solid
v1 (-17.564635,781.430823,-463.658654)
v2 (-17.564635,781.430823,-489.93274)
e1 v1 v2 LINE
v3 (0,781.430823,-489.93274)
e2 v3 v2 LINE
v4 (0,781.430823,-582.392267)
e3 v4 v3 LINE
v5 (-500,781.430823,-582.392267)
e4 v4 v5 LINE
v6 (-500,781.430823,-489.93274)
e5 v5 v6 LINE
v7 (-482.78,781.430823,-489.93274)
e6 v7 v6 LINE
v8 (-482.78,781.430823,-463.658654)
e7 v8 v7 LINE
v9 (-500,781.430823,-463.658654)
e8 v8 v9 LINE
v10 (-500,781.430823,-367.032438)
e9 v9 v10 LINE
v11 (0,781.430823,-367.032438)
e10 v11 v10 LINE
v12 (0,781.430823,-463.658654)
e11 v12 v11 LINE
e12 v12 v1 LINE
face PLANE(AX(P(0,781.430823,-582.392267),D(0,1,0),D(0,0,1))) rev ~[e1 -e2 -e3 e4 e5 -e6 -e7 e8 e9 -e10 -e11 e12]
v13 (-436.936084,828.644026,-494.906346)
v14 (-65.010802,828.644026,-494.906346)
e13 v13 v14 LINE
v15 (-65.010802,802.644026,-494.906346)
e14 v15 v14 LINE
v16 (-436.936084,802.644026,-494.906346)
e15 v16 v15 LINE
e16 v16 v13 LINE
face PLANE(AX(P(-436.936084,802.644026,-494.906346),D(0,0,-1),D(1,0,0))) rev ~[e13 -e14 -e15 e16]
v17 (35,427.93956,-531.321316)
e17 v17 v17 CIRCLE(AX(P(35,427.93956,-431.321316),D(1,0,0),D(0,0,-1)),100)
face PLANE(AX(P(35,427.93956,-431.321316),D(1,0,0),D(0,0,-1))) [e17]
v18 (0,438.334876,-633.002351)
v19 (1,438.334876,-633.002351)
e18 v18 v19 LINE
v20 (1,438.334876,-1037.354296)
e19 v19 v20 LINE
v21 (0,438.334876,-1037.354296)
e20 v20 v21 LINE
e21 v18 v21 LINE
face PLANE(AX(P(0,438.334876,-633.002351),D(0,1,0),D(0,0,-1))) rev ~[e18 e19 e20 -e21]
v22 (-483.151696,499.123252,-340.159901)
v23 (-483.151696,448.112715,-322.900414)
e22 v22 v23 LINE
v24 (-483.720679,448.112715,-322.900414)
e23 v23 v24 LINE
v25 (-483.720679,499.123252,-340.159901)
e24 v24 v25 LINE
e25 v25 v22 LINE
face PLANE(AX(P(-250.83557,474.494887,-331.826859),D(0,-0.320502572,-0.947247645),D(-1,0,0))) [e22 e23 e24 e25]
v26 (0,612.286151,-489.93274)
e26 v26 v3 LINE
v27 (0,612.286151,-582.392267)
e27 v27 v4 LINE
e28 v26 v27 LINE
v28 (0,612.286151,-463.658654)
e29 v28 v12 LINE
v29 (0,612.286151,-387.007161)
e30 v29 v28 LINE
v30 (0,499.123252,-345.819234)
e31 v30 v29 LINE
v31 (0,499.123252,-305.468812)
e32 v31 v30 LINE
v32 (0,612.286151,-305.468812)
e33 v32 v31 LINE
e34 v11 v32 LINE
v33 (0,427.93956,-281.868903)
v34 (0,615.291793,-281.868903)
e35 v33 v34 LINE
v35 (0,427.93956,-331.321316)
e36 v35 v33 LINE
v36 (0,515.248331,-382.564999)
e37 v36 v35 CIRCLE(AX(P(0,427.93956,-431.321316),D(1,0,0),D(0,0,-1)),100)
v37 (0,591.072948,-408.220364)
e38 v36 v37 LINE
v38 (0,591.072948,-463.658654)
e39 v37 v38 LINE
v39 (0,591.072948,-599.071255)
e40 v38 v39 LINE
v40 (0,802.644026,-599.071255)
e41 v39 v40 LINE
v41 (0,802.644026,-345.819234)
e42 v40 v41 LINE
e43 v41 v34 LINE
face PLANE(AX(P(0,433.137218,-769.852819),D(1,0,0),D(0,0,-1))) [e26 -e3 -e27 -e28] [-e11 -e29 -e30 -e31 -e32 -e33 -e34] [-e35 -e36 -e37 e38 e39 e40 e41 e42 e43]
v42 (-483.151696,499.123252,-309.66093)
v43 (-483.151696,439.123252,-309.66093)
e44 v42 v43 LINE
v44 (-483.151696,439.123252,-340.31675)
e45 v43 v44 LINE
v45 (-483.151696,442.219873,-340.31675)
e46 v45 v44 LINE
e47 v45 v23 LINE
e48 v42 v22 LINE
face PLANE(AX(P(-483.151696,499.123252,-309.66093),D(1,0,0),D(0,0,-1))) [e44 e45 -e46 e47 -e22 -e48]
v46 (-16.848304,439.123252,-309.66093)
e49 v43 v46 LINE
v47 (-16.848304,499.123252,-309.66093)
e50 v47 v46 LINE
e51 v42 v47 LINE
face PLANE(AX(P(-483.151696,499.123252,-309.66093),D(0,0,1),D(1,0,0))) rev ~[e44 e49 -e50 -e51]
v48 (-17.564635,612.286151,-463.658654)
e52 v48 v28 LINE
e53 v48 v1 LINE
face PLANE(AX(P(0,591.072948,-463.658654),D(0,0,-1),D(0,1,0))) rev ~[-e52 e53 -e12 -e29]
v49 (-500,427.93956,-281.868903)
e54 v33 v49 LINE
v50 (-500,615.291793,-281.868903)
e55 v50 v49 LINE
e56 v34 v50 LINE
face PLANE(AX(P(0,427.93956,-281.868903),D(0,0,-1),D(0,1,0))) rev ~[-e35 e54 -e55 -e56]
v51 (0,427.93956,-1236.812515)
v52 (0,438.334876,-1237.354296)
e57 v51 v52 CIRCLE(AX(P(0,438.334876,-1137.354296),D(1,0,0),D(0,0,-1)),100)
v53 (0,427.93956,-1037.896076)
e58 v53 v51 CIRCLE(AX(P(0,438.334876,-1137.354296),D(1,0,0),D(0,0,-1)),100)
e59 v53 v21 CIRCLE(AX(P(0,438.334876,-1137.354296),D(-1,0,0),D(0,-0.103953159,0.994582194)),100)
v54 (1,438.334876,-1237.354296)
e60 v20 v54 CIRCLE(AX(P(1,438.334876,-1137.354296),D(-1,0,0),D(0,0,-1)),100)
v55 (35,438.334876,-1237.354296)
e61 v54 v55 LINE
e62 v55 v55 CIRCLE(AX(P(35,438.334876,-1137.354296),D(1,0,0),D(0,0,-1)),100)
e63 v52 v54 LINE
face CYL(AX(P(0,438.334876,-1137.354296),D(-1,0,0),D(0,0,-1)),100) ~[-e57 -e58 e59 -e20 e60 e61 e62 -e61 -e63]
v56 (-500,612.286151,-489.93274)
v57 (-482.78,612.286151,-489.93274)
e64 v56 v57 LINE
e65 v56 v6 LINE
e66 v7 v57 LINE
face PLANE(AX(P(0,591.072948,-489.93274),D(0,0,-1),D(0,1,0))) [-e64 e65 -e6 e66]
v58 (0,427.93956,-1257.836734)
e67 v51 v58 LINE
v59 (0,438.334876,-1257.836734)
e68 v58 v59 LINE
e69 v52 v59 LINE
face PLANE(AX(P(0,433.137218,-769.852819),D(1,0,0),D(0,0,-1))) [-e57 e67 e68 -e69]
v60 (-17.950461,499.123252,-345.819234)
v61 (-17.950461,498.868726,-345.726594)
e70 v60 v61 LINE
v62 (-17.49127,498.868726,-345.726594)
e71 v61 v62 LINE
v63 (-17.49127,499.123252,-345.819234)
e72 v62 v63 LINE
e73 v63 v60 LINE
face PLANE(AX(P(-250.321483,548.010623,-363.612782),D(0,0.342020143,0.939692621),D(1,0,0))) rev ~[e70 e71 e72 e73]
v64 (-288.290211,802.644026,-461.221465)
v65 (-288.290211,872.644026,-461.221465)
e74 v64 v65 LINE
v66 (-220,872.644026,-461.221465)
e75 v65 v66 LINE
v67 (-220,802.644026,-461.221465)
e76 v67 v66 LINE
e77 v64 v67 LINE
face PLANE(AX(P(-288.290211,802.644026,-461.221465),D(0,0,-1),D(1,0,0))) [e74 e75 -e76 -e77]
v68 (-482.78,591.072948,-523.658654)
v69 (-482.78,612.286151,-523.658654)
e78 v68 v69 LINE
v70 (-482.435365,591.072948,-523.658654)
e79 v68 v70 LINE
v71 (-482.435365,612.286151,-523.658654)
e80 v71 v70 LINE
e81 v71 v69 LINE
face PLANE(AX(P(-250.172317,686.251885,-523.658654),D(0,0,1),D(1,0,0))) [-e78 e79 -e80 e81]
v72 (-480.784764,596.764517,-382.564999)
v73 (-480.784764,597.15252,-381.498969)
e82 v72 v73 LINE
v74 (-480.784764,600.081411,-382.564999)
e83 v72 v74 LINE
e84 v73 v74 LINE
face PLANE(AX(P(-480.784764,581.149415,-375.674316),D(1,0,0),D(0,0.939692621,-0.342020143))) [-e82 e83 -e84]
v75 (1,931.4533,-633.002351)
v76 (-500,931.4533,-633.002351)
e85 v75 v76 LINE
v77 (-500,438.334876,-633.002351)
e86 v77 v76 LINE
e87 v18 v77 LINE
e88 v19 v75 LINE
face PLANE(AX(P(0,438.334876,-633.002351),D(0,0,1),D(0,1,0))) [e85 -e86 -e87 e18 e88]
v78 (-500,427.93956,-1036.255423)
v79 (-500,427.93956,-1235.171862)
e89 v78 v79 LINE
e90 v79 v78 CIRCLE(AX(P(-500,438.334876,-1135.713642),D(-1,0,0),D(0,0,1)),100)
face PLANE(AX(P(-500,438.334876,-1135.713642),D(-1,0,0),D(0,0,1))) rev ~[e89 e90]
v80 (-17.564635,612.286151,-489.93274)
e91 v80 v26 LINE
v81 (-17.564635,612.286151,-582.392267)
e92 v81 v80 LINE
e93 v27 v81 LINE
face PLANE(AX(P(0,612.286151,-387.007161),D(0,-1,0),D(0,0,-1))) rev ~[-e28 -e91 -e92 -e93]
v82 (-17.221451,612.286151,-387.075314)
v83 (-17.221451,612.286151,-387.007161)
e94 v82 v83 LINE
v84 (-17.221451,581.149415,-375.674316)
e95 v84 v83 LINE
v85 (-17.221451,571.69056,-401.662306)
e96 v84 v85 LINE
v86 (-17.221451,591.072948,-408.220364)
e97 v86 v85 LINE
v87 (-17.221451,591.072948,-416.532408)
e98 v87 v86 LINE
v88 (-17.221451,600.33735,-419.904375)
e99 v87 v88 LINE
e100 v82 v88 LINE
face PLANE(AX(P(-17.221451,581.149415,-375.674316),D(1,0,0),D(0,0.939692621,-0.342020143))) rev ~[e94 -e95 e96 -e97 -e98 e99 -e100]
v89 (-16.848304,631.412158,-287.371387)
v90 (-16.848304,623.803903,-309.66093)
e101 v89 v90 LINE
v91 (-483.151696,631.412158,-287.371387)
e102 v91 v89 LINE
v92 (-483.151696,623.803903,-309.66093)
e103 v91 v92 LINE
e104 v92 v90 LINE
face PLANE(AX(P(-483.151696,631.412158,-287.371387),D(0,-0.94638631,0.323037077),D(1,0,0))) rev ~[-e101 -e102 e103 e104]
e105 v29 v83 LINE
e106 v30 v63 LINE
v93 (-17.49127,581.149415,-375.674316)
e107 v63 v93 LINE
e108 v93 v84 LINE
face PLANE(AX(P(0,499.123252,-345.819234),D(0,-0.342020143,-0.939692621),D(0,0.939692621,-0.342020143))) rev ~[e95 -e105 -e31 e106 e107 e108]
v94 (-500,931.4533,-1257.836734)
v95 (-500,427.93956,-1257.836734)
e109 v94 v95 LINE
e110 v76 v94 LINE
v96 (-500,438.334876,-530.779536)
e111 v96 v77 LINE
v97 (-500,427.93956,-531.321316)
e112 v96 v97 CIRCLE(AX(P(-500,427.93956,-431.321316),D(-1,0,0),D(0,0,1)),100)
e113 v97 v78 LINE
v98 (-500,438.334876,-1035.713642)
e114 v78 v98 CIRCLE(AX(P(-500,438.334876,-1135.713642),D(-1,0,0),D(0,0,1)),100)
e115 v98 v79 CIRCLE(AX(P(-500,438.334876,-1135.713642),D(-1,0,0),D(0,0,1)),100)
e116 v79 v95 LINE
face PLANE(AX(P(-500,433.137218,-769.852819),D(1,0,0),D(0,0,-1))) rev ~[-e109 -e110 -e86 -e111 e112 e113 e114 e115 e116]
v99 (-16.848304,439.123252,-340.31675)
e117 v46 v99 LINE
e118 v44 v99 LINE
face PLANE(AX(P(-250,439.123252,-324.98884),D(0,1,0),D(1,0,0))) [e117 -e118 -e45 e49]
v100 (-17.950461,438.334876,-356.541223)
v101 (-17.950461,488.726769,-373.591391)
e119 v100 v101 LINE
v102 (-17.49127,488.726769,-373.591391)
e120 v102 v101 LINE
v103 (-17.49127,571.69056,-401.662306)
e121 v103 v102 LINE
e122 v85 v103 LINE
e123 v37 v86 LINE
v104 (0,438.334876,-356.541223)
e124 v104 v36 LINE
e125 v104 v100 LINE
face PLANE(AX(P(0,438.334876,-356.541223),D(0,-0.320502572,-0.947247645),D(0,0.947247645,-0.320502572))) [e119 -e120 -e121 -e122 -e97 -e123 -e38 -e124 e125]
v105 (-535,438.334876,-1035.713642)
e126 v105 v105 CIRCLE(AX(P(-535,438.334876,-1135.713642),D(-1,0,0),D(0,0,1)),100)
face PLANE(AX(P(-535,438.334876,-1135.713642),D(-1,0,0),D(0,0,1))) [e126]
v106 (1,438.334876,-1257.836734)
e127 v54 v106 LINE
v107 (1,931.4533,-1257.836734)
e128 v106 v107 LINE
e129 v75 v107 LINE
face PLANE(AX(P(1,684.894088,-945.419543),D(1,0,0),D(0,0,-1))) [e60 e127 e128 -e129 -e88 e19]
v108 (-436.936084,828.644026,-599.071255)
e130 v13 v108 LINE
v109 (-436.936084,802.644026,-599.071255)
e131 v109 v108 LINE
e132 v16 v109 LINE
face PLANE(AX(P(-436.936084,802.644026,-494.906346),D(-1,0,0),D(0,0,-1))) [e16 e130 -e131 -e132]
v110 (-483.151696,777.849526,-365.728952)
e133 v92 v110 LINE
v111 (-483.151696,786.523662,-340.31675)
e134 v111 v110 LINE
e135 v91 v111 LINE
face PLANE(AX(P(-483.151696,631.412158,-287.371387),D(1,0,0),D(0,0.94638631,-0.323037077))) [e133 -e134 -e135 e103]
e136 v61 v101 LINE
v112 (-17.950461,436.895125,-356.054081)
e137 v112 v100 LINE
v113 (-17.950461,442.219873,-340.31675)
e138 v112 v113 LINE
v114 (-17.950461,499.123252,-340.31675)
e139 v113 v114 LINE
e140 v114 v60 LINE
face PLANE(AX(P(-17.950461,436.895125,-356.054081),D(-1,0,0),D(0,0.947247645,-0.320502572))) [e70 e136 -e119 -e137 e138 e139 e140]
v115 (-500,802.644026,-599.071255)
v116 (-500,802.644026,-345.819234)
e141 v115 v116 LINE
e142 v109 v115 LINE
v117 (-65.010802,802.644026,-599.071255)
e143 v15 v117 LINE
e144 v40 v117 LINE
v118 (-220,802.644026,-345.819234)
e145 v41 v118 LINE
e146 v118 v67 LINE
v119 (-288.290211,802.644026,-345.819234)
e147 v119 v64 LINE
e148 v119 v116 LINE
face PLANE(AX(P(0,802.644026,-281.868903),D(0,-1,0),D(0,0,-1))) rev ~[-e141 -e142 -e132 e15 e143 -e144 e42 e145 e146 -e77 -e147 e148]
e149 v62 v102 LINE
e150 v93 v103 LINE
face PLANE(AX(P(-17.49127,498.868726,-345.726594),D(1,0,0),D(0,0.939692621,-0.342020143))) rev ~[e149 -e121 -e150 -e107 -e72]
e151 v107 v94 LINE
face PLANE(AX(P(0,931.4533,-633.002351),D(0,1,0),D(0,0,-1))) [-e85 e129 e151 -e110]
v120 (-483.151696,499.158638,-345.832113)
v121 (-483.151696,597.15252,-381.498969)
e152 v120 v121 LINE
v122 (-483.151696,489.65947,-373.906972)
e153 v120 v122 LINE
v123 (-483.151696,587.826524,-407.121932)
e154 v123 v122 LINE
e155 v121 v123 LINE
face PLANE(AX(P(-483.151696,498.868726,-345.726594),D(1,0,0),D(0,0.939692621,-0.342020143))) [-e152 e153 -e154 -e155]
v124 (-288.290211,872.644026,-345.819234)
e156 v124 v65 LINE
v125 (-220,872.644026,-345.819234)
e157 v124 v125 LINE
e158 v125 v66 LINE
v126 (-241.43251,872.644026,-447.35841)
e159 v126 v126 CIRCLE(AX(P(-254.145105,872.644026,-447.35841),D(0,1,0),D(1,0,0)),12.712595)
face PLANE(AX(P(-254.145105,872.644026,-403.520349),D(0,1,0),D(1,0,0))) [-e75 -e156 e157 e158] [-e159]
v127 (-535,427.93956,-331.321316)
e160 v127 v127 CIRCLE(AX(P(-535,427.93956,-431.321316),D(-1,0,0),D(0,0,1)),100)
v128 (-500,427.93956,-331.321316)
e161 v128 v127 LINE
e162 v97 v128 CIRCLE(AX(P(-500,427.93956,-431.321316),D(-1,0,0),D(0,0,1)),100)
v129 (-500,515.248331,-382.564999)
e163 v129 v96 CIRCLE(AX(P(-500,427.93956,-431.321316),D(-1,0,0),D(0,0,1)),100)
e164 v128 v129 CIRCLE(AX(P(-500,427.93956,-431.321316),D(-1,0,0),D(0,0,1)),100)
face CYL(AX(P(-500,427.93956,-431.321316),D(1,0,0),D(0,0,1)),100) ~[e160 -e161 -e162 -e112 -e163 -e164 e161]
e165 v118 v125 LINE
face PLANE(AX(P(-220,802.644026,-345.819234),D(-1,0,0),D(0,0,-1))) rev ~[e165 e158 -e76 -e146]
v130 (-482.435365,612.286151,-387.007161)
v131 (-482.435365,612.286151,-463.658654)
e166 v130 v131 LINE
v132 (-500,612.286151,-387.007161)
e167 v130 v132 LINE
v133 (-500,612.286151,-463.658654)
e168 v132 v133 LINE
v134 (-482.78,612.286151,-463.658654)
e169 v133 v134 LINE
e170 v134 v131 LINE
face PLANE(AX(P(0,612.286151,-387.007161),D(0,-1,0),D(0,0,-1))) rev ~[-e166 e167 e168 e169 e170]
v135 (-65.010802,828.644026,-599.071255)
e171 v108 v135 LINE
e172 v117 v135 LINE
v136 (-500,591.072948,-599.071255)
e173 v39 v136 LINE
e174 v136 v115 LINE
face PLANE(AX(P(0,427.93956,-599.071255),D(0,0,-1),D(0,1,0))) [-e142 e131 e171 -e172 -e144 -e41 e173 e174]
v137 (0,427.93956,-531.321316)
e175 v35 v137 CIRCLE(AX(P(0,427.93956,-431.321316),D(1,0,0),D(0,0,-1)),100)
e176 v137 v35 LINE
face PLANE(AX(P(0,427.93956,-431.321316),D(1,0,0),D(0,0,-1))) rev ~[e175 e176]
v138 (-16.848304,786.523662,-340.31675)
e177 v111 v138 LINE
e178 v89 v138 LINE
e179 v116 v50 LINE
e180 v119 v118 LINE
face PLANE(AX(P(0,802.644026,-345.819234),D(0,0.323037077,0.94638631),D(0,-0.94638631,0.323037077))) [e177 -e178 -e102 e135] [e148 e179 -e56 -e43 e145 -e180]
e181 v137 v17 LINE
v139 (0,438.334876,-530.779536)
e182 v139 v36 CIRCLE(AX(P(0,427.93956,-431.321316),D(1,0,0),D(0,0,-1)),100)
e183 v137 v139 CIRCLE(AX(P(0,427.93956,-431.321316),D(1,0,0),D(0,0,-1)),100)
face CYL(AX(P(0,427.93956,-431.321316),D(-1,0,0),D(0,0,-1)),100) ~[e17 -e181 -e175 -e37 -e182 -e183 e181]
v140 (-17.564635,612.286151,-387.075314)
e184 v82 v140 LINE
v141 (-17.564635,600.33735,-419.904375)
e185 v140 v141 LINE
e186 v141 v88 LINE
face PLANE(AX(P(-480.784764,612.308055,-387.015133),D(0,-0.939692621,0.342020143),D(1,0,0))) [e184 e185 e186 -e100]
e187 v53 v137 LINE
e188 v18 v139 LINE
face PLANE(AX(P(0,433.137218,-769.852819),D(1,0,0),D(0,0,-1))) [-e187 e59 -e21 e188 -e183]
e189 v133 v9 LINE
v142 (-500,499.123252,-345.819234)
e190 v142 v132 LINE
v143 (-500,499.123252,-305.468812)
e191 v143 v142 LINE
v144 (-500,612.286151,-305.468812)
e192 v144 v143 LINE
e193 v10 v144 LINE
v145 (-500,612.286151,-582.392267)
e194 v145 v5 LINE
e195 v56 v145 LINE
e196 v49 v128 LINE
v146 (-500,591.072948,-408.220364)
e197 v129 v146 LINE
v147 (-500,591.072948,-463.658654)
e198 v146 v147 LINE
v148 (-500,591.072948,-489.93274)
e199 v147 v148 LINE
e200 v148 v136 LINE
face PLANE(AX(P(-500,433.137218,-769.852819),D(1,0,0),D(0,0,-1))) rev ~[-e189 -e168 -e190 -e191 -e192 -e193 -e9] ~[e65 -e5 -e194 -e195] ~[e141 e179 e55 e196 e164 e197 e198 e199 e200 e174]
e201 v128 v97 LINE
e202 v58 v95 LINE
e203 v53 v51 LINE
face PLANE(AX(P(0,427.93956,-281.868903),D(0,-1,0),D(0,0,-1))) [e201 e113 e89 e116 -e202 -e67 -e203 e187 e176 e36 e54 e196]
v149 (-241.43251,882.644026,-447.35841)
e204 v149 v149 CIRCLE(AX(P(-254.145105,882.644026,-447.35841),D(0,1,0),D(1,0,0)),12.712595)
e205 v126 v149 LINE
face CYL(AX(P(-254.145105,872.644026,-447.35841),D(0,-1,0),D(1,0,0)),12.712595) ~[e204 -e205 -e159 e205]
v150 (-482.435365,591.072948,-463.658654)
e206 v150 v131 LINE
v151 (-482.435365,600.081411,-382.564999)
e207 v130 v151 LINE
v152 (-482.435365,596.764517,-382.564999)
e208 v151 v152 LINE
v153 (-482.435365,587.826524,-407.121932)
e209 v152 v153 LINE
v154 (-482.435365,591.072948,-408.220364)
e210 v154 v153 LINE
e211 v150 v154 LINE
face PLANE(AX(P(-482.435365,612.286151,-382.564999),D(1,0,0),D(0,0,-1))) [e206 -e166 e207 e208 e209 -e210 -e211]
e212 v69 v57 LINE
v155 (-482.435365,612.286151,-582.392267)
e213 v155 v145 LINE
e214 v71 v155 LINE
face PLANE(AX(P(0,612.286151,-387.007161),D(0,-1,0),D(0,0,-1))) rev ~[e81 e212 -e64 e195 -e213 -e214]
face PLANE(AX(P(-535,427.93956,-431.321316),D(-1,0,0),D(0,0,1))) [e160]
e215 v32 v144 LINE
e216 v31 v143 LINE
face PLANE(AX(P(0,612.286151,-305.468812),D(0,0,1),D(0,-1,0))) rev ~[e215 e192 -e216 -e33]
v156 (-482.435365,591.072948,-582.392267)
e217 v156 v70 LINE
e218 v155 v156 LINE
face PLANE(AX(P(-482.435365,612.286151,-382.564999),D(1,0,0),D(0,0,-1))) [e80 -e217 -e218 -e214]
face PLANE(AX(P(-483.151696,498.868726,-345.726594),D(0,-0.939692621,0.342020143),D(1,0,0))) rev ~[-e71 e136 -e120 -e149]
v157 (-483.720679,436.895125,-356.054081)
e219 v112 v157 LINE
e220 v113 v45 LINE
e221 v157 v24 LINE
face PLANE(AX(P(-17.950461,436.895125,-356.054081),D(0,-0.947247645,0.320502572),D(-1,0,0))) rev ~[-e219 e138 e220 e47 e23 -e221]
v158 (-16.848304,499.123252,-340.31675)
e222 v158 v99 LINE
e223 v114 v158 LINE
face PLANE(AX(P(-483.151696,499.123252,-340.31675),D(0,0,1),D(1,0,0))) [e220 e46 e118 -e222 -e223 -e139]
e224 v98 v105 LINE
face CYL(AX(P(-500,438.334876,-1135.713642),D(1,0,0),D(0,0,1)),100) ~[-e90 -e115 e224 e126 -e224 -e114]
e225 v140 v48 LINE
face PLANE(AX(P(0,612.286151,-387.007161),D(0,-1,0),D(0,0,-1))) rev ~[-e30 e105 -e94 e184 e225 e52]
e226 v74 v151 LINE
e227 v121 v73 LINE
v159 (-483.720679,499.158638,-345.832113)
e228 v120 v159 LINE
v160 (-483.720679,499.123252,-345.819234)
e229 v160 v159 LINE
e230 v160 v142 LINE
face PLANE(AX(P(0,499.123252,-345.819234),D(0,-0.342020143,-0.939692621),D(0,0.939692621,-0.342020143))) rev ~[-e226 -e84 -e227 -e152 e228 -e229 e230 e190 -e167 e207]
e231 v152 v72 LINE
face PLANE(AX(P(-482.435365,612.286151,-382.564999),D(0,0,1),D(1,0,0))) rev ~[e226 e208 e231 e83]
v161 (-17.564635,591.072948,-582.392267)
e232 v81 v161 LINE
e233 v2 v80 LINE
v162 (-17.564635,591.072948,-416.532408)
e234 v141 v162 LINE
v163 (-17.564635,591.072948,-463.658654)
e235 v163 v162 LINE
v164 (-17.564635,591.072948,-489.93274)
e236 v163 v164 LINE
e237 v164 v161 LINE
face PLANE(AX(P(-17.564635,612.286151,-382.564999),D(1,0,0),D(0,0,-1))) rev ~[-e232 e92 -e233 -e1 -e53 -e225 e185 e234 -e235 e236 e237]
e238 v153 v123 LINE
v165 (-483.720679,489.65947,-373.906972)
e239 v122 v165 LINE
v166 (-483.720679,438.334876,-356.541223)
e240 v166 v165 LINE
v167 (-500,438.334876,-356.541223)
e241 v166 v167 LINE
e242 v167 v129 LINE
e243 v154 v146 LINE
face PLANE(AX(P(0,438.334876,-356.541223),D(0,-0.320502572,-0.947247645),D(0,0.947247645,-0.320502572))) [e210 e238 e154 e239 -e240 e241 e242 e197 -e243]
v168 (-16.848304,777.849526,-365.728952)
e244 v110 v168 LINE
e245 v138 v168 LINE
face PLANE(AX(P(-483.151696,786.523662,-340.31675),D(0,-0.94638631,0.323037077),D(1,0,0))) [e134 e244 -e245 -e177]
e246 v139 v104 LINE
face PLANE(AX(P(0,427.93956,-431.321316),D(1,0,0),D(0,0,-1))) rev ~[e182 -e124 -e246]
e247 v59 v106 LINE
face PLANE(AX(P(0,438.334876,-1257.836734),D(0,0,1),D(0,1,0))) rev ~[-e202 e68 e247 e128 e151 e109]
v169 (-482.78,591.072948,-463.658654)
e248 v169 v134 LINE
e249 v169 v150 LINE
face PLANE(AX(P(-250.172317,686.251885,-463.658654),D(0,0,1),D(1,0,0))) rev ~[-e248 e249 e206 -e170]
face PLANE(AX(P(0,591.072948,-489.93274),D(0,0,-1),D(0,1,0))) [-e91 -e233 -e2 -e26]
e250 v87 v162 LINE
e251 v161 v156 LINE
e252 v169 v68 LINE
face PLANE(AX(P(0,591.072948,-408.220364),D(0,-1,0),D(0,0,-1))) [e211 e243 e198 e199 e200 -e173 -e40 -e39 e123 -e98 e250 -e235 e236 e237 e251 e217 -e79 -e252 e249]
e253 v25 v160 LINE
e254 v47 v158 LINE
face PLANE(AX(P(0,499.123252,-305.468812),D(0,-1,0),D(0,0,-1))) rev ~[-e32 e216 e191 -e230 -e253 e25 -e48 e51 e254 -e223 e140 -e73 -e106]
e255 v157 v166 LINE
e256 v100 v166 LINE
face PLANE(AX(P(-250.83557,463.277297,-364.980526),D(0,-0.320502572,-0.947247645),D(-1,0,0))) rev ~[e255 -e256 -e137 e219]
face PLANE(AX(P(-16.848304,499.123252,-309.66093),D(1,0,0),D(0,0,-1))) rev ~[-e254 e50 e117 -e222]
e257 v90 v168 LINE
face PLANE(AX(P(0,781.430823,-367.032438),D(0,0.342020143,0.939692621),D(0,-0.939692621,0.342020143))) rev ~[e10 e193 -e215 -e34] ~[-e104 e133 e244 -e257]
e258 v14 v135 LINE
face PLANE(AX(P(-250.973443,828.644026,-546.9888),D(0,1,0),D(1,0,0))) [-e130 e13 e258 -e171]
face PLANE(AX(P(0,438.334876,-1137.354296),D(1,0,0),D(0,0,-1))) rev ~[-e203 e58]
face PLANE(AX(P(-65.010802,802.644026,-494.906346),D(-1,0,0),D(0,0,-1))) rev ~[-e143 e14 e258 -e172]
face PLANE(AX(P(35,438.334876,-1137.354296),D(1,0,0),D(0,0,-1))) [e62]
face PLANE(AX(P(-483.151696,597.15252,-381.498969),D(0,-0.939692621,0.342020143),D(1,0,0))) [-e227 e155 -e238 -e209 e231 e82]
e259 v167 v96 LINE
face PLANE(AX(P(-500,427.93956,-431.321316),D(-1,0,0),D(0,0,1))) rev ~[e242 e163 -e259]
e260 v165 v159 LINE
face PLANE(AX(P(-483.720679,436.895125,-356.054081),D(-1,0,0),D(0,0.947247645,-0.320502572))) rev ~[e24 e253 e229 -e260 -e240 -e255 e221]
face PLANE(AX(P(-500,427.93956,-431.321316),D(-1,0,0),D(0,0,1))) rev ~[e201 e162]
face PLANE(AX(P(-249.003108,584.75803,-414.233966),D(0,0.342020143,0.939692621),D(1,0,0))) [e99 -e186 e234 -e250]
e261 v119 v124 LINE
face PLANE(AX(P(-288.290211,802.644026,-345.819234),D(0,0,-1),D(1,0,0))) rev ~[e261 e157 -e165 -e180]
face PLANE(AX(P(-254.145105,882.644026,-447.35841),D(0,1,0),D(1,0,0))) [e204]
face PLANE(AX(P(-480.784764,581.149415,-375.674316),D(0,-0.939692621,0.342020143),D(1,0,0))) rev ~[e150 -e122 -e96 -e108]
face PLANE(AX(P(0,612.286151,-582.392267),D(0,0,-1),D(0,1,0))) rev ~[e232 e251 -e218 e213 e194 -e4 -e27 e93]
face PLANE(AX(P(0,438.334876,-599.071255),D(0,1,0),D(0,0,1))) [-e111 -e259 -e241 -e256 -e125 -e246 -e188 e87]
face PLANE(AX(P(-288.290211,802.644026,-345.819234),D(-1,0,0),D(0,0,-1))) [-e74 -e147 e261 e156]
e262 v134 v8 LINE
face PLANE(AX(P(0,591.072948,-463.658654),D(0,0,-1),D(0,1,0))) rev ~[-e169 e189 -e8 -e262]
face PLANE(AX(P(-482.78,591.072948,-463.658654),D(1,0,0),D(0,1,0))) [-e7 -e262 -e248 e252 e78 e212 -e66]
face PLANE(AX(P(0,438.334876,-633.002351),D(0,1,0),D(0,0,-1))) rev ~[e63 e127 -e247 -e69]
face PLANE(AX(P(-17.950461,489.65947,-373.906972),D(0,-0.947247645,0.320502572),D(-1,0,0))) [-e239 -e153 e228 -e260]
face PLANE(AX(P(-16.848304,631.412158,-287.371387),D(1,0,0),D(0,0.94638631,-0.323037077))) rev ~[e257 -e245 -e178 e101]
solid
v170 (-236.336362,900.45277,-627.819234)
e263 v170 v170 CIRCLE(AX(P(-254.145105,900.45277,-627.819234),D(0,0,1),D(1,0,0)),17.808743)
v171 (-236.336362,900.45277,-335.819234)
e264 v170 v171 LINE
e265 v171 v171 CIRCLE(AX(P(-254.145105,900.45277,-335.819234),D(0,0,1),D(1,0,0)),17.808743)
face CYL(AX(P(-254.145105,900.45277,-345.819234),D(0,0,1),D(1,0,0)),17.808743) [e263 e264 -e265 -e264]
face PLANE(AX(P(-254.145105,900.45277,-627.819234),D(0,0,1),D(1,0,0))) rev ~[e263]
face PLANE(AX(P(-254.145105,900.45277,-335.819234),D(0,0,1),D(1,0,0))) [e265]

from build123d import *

# Parameters (mm, degrees)
IZIM2_W                           = 624.83438286
IZIM2_H                           = 493.118424104
Y_KSEKLIK_EKSTR_ZYON1_DEPTH       = 500
IZIM4_R                           = 100
Y_KSEKLIK_EKSTR_ZYON2_DEPTH       = 35
IZIM5_W                           = 975.967830922
IZIM5_H                           = 10.395315862
Y_KSEKLIK_EKSTR_ZYON3_DEPTH       = 500
IZIM6_W                           = 317.202351564
IZIM6_H                           = 374.704466417
Y_KSEKLIK_EKSTR_ZYON4_DEPTH       = 500
KES_EKSTR_ZYON1_DEPTH             = 500
KES_EKSTR_ZYON2_DEPTH             = 500
KES_EKSTR_ZYON3_DEPTH             = 500
IZIM11_R                          = 100
Y_KSEKLIK_EKSTR_ZYON5_DEPTH       = 35
IZIM12_W                          = 466.303391348
IZIM12_H                          = 163.89871841
KES_EKSTR_ZYON4_DEPTH             = 35
IZIM17_W                          = 464.870730912
IZIM17_H                          = 199.827267797
KES_EKSTR_ZYON7_DEPTH             = 35
IZIM20_W                          = 465.660425645
IZIM20_H                          = 104.591429086
KES_EKSTR_ZYON8_DEPTH             = 35
IZIM21_W                          = 463.56331291
IZIM21_H                          = 33.15833205
KES_EKSTR_ZYON9_DEPTH             = 35
IZIM22_W                          = 465.770217683
IZIM22_H                          = 55.70279957
KES_EKSTR_ZYON10_DEPTH            = 35
IZIM23_W                          = 466.303391348
IZIM23_H                          = 30.655819637
KES_EKSTR_ZYON11_DEPTH            = 60
IZIM25_W                          = 26.274086754
IZIM25_H                          = 211.571078613
Y_KSEKLIK_EKSTR_ZYON6_DEPTH       = 500
IZIM27_W                          = 465.215365456
IZIM27_H                          = 190.357875177
KES_EKSTR_ZYON12_DEPTH            = 60
IZIM28_R                          = 100
Y_KSEKLIK_EKSTR_ZYON7_DEPTH       = 35
IZIM46_W                          = 68.290210942
IZIM46_H                          = 115.402230531
Y_KSEKLIK_EKSTR_ZYON14_DEPTH      = 70
IZIM47_R                          = 12.712595137
Y_KSEKLIK_EKSTR_ZYON15_DEPTH      = 10
IZIM48_R                          = 17.808743389
Y_KSEKLIK_EKSTR_ZYON18_DEPTH      = 10
Y_KSEKLIK_EKSTR_ZYON18_DEPTH_BACK = 282
IZIM49_W                          = 371.925281581
IZIM49_H                          = 104.164908848
Y_KSEKLIK_EKSTR_ZYON19_DEPTH      = 26
IZIM54_W                          = 624.83438286
IZIM54_H                          = 493.118424104
Y_KSEKLIK_EKSTR_ZYON20_DEPTH      = 1


with BuildPart() as part:
    # Çizim2 → Yükseklik-Ekstrüzyon1 (new body)
    with BuildSketch(Plane(origin=(0, 0, 0), x_dir=(0, 0, -1), z_dir=(1, 0, 0))):
        with Locations((945.419542605, 684.894087956)):
            Rectangle(IZIM2_W, IZIM2_H)
    extrude(amount=-Y_KSEKLIK_EKSTR_ZYON1_DEPTH)

    # Çizim4 → Yükseklik-Ekstrüzyon2 (add)
    with BuildSketch(Plane(origin=(0, 0, 0), x_dir=(0, 0, -1), z_dir=(1, 0, 0))):
        with Locations((1137.354295612, 438.334875904)):
            Circle(IZIM4_R)
    extrude(amount=Y_KSEKLIK_EKSTR_ZYON2_DEPTH)

    # Çizim5 → Yükseklik-Ekstrüzyon3 (add)
    with BuildSketch(Plane(origin=(0, 0, 0), x_dir=(0, 0, -1), z_dir=(1, 0, 0))):
        with Locations((769.852818574, 433.137217973)):
            Rectangle(IZIM5_W, IZIM5_H)
    extrude(amount=-Y_KSEKLIK_EKSTR_ZYON3_DEPTH)

    # Çizim6 → Yükseklik-Ekstrüzyon4 (add)
    with BuildSketch(Plane(origin=(0, 0, 0), x_dir=(0, 0, -1), z_dir=(1, 0, 0))):
        with Locations((440.470078895, 615.291793251)):
            Rectangle(IZIM6_W, IZIM6_H)
    extrude(amount=-Y_KSEKLIK_EKSTR_ZYON4_DEPTH)

    # Çizim7 → Kes-Ekstrüzyon1 (cut)
    with BuildSketch(Plane(origin=(0, 0, 0), x_dir=(0, 0, -1), z_dir=(1, 0, 0))):
        Polygon((281.868903113, 802.644026459), (345.819234143, 802.644026459), (281.868903113, 615.29179325), align=None)
    extrude(amount=-KES_EKSTR_ZYON1_DEPTH, mode=Mode.SUBTRACT)

    # Çizim8 → Kes-Ekstrüzyon2 (cut)
    with BuildSketch(Plane(origin=(0, 0, 0), x_dir=(0, 0, -1), z_dir=(1, 0, 0))):
        Polygon((367.032437579, 781.430823023), (305.46881178, 612.286151281), (305.46881178, 499.123252309), (345.819234143, 499.123252309), (387.007160993, 612.286151281), (582.392266599, 612.286151281), (582.392266599, 781.430823023), align=None)
    extrude(amount=-KES_EKSTR_ZYON2_DEPTH, mode=Mode.SUBTRACT)

    # Çizim10 → Kes-Ekstrüzyon3 (cut)
    with BuildSketch(Plane(origin=(0, 0, 0), x_dir=(0, 0, -1), z_dir=(1, 0, 0))):
        Polygon((599.071254677, 438.334875904), (356.541223106, 438.334875904), (408.220364428, 591.072947846), (599.071254677, 591.072947846), align=None)
    extrude(amount=-KES_EKSTR_ZYON3_DEPTH, mode=Mode.SUBTRACT)

    # Çizim11 → Yükseklik-Ekstrüzyon5 (add)
    with BuildSketch(Plane(origin=(0, 0, 0), x_dir=(0, 0, -1), z_dir=(1, 0, 0))):
        with Locations((431.321316174, 427.939560042)):
            Circle(IZIM11_R)
    extrude(amount=Y_KSEKLIK_EKSTR_ZYON5_DEPTH)

    # Çizim12 → Kes-Ekstrüzyon4 (cut)
    with BuildSketch(Plane(origin=(0, -21.964844226, -64.349355999), x_dir=(1, 0, 0), z_dir=(0, 0.323037077, 0.94638631))):
        with Locations((-250, 772.34079435)):
            Rectangle(IZIM12_W, IZIM12_H)
    extrude(amount=-KES_EKSTR_ZYON4_DEPTH, mode=Mode.SUBTRACT)

    # Çizim17 → Kes-Ekstrüzyon7 (cut)
    with BuildSketch(Plane(origin=(0, 612.286151281, 0), x_dir=(1, 0, 0), z_dir=(0, 1, 0))):
        with Locations((-250, 482.478632701)):
            Rectangle(IZIM17_W, IZIM17_H)
    extrude(amount=-KES_EKSTR_ZYON7_DEPTH, mode=Mode.SUBTRACT)

    # Çizim20 → Kes-Ekstrüzyon8 (cut)
    with BuildSketch(Plane(origin=(0, -52.757830226, -144.950947246), x_dir=(1, 0, 0), z_dir=(0, 0.342020143, 0.939692621))):
        with Locations((-250.321482852, 639.324434245)):
            Rectangle(IZIM20_W, IZIM20_H)
    extrude(amount=-KES_EKSTR_ZYON8_DEPTH, mode=Mode.SUBTRACT)

    # Çizim21 → Kes-Ekstrüzyon9 (cut)
    with BuildSketch(Plane(origin=(0, -52.757830226, -144.950947246), x_dir=(1, 0, 0), z_dir=(0, 0.342020143, 0.939692621))):
        with Locations((-249.003107825, 691.169166414)):
            Rectangle(IZIM21_W, IZIM21_H)
    extrude(amount=-KES_EKSTR_ZYON9_DEPTH, mode=Mode.SUBTRACT)

    # Çizim22 → Kes-Ekstrüzyon10 (cut)
    with BuildSketch(Plane(origin=(0, -63.217651249, -186.84022059), x_dir=(-1, 0, 0), z_dir=(0, -0.320502572, -0.947247645))):
        with Locations((250.835570057, 555.815526561)):
            Rectangle(IZIM22_W, IZIM22_H)
    extrude(amount=-KES_EKSTR_ZYON10_DEPTH, mode=Mode.SUBTRACT)

    # Çizim23 → Kes-Ekstrüzyon11 (cut)
    with BuildSketch(Plane(origin=(0, 499.123252309, 0), x_dir=(1, 0, 0), z_dir=(0, 1, 0))):
        with Locations((-250, 324.988840267)):
            Rectangle(IZIM23_W, IZIM23_H)
    extrude(amount=-KES_EKSTR_ZYON11_DEPTH, mode=Mode.SUBTRACT)

    # Çizim25 → Yükseklik-Ekstrüzyon6 (add)
    with BuildSketch(Plane(origin=(0, 0, 0), x_dir=(0, 0, -1), z_dir=(1, 0, 0))):
        with Locations((476.795697093, 696.858487153)):
            Rectangle(IZIM25_W, IZIM25_H)
    extrude(amount=-Y_KSEKLIK_EKSTR_ZYON6_DEPTH)

    # Çizim27 → Kes-Ekstrüzyon12 (cut)
    with BuildSketch(Plane.XY.offset(-463.658653716)):
        with Locations((-250.172317272, 686.251885435)):
            Rectangle(IZIM27_W, IZIM27_H)
    extrude(amount=-KES_EKSTR_ZYON12_DEPTH, mode=Mode.SUBTRACT)

    # Çizim28 → Yükseklik-Ekstrüzyon7 (add)
    with BuildSketch(Plane.ZY.offset(500)):
        with Locations((-431.321316174, 427.939560042)):
            Circle(IZIM28_R)
        with Locations((-1135.713642363, 438.334875904)):
            Circle(IZIM28_R)
    extrude(amount=Y_KSEKLIK_EKSTR_ZYON7_DEPTH)

    # Çizim46 → Yükseklik-Ekstrüzyon14 (add)
    with BuildSketch(Plane(origin=(0, 802.644026459, 0), x_dir=(1, 0, 0), z_dir=(0, 1, 0))):
        with Locations((-254.145105471, 403.520349409)):
            Rectangle(IZIM46_W, IZIM46_H)
    extrude(amount=Y_KSEKLIK_EKSTR_ZYON14_DEPTH)

    # Çizim47 → Yükseklik-Ekstrüzyon15 (add)
    with BuildSketch(Plane(origin=(0, 872.644026459, 0), x_dir=(1, 0, 0), z_dir=(0, 1, 0))):
        with Locations((-254.145105471, 447.358410318)):
            Circle(IZIM47_R)
    extrude(amount=Y_KSEKLIK_EKSTR_ZYON15_DEPTH)

    # Çizim49 → Yükseklik-Ekstrüzyon19 (add)
    with BuildSketch(Plane(origin=(0, 802.644026459, 0), x_dir=(1, 0, 0), z_dir=(0, 1, 0))):
        with Locations((-250.97344325, 546.988800253)):
            Rectangle(IZIM49_W, IZIM49_H)
    extrude(amount=Y_KSEKLIK_EKSTR_ZYON19_DEPTH)

    # Çizim54 → Yükseklik-Ekstrüzyon20 (add)
    with BuildSketch(Plane(origin=(0, 0, 0), x_dir=(0, 0, -1), z_dir=(1, 0, 0))):
        with Locations((945.419542605, 684.894087956)):
            Rectangle(IZIM54_W, IZIM54_H)
    extrude(amount=Y_KSEKLIK_EKSTR_ZYON20_DEPTH)


with BuildPart() as body_2:
    # Çizim48 → Yükseklik-Ekstrüzyon18 (new body, two sides)
    with BuildSketch(Plane.XY.offset(-345.819234143)) as y_kseklik_ekstr_zyon18_sk:
        with Locations((-254.145105471, 900.452769847)):
            Circle(IZIM48_R)
    extrude(amount=Y_KSEKLIK_EKSTR_ZYON18_DEPTH)
    extrude(y_kseklik_ekstr_zyon18_sk.sketch, amount=-Y_KSEKLIK_EKSTR_ZYON18_DEPTH_BACK)


solid = Compound([part.part, body_2.part])
